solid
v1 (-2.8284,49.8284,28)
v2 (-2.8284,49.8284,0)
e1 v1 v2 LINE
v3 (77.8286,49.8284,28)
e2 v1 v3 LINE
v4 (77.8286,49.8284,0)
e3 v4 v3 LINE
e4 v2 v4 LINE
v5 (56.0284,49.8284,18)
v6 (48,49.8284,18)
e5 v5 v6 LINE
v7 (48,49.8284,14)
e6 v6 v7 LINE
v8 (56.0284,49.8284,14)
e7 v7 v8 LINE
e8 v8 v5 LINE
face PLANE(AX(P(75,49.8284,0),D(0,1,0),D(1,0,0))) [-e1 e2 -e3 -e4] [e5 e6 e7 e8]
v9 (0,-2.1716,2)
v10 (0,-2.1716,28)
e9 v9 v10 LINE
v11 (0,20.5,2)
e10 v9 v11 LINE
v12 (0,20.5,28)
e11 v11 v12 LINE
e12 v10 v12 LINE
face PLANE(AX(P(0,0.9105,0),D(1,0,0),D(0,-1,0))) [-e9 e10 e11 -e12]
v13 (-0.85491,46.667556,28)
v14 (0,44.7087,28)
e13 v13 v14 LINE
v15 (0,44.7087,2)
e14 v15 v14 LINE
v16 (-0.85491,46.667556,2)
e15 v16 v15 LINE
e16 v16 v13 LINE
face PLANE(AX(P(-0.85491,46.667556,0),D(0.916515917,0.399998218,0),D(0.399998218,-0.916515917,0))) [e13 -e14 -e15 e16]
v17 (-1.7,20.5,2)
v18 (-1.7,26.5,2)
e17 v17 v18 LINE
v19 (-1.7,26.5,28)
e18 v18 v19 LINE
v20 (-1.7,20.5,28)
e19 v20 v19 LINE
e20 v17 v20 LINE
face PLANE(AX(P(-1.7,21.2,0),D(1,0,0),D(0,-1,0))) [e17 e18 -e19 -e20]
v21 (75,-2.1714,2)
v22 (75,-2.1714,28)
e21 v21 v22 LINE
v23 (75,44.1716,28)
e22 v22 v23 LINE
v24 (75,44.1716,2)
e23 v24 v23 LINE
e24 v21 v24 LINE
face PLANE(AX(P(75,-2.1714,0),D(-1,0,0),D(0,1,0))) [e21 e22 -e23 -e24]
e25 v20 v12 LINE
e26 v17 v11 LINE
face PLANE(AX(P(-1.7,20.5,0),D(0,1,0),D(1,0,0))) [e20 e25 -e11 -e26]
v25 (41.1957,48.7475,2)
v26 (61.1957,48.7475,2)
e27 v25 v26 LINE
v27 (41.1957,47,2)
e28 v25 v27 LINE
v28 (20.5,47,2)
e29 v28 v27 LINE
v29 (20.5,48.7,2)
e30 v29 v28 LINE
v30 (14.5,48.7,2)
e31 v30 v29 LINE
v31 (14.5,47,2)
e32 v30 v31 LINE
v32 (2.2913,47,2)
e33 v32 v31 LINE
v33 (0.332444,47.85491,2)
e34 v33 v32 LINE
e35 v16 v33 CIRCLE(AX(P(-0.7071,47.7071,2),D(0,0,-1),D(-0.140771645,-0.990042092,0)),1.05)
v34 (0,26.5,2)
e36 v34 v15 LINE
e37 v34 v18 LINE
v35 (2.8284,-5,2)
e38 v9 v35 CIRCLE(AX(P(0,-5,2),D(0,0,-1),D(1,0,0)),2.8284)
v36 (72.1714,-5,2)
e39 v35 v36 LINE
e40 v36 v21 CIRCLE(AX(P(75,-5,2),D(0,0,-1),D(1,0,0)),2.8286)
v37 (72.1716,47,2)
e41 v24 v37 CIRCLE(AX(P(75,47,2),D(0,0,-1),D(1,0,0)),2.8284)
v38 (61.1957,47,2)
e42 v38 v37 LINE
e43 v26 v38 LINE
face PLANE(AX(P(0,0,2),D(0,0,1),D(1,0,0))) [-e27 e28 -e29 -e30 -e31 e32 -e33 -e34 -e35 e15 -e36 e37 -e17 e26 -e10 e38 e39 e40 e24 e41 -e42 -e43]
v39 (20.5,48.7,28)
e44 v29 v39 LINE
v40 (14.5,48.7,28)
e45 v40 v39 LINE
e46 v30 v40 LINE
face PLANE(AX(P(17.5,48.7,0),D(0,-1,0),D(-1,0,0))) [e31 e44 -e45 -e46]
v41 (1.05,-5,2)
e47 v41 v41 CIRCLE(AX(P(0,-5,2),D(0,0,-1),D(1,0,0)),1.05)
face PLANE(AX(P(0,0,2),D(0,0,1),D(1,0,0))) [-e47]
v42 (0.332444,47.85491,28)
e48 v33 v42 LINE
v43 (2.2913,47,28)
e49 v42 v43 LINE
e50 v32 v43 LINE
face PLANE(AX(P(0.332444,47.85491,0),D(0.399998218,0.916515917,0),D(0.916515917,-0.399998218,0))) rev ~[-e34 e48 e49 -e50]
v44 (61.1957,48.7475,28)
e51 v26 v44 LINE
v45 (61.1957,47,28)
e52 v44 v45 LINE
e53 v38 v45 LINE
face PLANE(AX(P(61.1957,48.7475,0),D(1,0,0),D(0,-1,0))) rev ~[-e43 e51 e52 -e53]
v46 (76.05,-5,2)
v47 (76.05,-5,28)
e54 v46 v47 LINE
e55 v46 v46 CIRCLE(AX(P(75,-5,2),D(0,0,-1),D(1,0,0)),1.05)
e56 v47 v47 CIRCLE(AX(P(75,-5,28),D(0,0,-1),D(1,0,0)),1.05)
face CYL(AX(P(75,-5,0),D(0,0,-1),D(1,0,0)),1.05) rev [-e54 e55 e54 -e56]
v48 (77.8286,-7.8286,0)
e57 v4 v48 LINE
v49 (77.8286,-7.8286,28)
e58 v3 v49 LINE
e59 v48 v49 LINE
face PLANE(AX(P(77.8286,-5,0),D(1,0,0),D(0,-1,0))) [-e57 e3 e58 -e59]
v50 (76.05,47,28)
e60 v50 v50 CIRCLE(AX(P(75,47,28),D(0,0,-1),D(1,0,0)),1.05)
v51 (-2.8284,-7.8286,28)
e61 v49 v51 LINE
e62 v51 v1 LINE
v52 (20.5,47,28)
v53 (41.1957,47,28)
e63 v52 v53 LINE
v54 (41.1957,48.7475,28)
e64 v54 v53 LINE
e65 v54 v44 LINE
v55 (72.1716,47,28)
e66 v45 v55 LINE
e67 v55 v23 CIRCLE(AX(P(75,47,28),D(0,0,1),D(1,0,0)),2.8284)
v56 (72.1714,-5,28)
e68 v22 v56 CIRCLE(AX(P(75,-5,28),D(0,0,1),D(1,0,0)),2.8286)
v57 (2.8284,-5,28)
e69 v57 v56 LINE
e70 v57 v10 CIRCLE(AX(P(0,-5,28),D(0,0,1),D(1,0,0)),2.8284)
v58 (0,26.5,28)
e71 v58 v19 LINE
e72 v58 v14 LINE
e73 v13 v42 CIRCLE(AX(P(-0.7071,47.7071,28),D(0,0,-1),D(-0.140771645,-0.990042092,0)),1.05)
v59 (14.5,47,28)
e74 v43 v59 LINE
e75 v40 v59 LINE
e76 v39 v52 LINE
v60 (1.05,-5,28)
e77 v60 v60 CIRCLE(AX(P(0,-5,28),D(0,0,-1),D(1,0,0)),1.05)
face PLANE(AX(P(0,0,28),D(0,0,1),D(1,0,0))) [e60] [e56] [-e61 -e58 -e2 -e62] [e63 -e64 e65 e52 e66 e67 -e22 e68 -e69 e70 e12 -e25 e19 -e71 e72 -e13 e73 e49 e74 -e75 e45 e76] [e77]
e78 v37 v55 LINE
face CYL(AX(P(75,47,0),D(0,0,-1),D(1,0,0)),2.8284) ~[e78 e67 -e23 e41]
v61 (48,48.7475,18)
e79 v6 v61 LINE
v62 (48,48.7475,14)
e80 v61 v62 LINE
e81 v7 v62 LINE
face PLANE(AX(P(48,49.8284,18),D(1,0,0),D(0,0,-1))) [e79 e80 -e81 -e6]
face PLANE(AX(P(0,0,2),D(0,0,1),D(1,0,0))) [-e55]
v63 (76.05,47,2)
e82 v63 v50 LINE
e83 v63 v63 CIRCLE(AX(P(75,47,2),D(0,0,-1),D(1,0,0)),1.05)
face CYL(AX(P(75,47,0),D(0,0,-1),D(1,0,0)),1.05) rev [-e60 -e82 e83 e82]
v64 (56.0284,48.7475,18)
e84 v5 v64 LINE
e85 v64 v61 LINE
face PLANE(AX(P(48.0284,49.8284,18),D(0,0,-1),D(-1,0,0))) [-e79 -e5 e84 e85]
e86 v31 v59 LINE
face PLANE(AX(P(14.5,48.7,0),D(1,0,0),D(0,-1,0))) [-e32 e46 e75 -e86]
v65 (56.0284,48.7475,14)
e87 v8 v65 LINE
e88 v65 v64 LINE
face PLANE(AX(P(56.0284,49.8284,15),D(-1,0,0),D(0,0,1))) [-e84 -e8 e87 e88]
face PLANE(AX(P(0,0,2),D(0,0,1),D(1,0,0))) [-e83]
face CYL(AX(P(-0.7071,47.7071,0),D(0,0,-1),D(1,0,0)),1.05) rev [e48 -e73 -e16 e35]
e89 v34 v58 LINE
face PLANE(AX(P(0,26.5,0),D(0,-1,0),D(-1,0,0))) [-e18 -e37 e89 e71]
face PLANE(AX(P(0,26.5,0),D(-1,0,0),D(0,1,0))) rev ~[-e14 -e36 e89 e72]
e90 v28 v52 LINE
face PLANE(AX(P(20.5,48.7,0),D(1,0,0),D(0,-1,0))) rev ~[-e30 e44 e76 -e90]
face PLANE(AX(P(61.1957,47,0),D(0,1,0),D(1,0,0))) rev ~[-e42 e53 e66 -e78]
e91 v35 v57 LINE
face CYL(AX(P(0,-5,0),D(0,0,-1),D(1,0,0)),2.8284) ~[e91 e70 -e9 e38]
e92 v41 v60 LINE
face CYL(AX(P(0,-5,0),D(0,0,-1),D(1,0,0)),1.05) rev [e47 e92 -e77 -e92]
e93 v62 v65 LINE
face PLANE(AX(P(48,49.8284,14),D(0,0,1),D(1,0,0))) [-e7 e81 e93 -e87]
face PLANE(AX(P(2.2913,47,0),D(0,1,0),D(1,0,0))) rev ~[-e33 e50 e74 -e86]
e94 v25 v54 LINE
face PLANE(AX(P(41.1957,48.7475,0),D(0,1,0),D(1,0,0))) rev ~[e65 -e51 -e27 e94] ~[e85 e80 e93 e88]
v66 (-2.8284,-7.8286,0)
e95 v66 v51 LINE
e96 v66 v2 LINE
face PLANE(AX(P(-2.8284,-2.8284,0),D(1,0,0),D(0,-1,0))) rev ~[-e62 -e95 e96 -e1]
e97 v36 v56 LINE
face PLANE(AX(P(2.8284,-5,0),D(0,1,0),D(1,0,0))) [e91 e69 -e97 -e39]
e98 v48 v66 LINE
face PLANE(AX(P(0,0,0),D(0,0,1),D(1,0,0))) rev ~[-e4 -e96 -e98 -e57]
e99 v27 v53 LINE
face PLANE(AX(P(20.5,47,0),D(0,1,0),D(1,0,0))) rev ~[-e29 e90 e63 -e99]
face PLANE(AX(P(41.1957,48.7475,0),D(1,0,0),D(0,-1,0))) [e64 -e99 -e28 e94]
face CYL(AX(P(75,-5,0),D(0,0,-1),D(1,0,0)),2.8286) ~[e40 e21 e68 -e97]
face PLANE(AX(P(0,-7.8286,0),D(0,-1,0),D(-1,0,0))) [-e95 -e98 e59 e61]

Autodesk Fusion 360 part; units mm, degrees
sketch "Sketch1" plane through (0, 0, 0) normal (0, 0, 1) x (1, 0, 0)
  line L0 (0, 0.9105) -> (0, 44.7087)
  line L1 (2.2913, 47) -> (17.5, 47)
  line L2 (17.5, 47) -> (15.35, 47)
  line L3 (0, 23.5) -> (0, 25.65)
  line L4 (0, 23.5) -> (0, 21.35)
  line L5 (-1.7, 23.5) -> (-1.7, 25.8)
  line L6 (-1.7, 23.5) -> (-1.7, 21.2)
  line L7 (70, 47) -> (74, 47) construction
  line L8 (0, 47) -> (-2.8284, 49.8284)
  line L9 (0, 47) -> (-4, 47) construction
  line L10 (-2.8284, 49.8284) -> (72.8284, 49.8284)
  line L11 (-2.8284, 49.8284) -> (-2.8284, -2.8284)
  line L12 (17.5, 47) -> (69, 47)
  line L13 (41.1957, 48.7475) -> (61.1957, 48.7475)
  line L14 (41.1957, 48.7475) -> (41.1957, 47)
  line L15 (61.1957, 48.7475) -> (61.1957, 47)
  line L16 (17.5, 48.7) -> (14.5, 48.7)
  line L17 (14.5, 48.7) -> (20.5, 48.7)
  line L18 (20.5, 48.7) -> (20.5, 47)
  line L19 (14.5, 48.7) -> (14.5, 47)
  line L20 (-1.7, 23.5) -> (-1.7, 26.5)
  line L21 (-1.7, 26.5) -> (-1.7, 23.5)
  line L22 (-1.7, 23.5) -> (-1.7, 20.5)
  line L23 (-1.7, 20.5) -> (-1.7, 26.5)
  line L24 (0, 26.5) -> (-1.7, 26.5)
  line L25 (-1.7, 20.5) -> (0, 20.5)
  line L26 (0, 47) -> (0, 48)
  line L27 (0, 48) -> (2.2913, 47)
  line L28 (0, 47) -> (-1, 47)
  line L29 (-1, 47) -> (0, 44.7087)
  arc A0 (0, 48) -> (-1, 47) centre (0, 47) ccw
  line L30 (-2.8284, 49.8284) -> (-2.8284, -7.8286)
  line L31 (-2.8284, 49.8284) -> (77.8286, 49.8284)
  line L32 (77.8286, 49.8284) -> (77.8286, -7.8286)
  line L33 (77.8286, -7.8286) -> (-2.8284, -7.8286)
  line L34 (0, -5) -> (75, -5)
  line L35 (75, -5) -> (75, 47)
  line L36 (75, 47) -> (69, 47)
  line L37 (0, 0.9105) -> (0, -5)
  circle A1 centre (75, 47) radius 2.8284
  circle A2 centre (75, 47) radius 1.05
  circle A3 centre (75, -5) radius 2.8286
  circle A4 centre (75, -5) radius 1.05
  circle A5 centre (0, -5) radius 2.8284
  circle A6 centre (0, -5) radius 1.05
  circle A7 centre (-0.7071, 47.7071) radius 1.05
  dimension "d2" = 47
  dimension "d3" = 17.5
  dimension "d5" = 2.15
  dimension "d23" = 2.15
  dimension "d25" = 1.7
  dimension "d26" = 2.3
  dimension "d27" = 2.3
  dimension "d33" = 45
  dimension "d34" = 4
  dimension "d59" = 6
  dimension "d60" = 3
  dimension "d61" = 3
  dimension "d63" = 2
  dimension "d70" = 20
  dimension "d72" = 2.5
  dimension "d73" = 2.5
  dimension "d126" = 57.657
  dimension "d127" = 80.657
  dimension "d128" = 2.1
  dimension "d129" = 2.1
  dimension "d130" = 2.1
  dimension "d131" = 2.1
sketch "Sketch2" plane through (0, 49.8284, 0) normal (0, 1, 0) x (-1, 0, 0)
  line L0 (-72.8284, 0) -> (2.8284, 0)
  line L1 (2.8284, 0) -> (2.8284, 28)
  line L2 (2.8284, 28) -> (-72.8284, 28)
  line L3 (-72.8284, 28) -> (-72.8284, 0)
  line L4 (-72.8284, 0) -> (-42.8284, 0)
  line L5 (-42.8284, 0) -> (-52.0284, 0)
  line L6 (-52.0284, 0) -> (-52.0284, 18)
  line L7 (-52.0284, 18) -> (-56.0284, 18)
  line L8 (-56.0284, 18) -> (-48.0284, 18)
  line L9 (-48.0284, 18) -> (-48.0284, 15)
  line L10 (-56.0284, 15) -> (-56.0284, 18)
  line L11 (-56.0284, 18) -> (-48, 18)
  line L12 (-48, 18) -> (-48, 14)
  line L13 (-48, 14) -> (-56.0284, 14)
  line L14 (-56.0284, 14) -> (-56.0284, 18)
  dimension "d49" = 30
  dimension "d50" = 9.2
  dimension "d51" = 18
  dimension "d52" = 4
  dimension "d53" = 8
  dimension "d54" = 3
extrude "Extrude25" add sketch "Sketch1" along normal blind 28 contours L0 L5 L6 L8 L11 L20 L21 L22 L23 L24 L25 L29 L30 L37 A5 A7 | L34 L37 A5 A6 | L34 L37 A5 A6 | L33 L34 A3 A5 | L30 L33 A5 | L34 L35 A3 A4 | L34 L35 A3 A4 | L32 L35 A1 A3 | L32 L33 A3 | L1 L8 L10 L12 L13 L14 L15 L16 L17 L18 L19 L27 L31 L36 A1 A7 | L35 L36 A1 A2 | L35 L36 A1 A2 | L31 L32 A1
extrude "Extrude26" add sketch "Sketch1" along normal blind 2
extrude "Extrude27" cut sketch "Sketch2" against normal blind 6 contours L6 L7 L8 L10 L11 L13 L14 | L6 L8 L11 L12 L13
equation "d3 = ( 35 / 2 ) * 1 mm"
equation "d50 = ( 18.4 / 2 ) * 1 mm"
